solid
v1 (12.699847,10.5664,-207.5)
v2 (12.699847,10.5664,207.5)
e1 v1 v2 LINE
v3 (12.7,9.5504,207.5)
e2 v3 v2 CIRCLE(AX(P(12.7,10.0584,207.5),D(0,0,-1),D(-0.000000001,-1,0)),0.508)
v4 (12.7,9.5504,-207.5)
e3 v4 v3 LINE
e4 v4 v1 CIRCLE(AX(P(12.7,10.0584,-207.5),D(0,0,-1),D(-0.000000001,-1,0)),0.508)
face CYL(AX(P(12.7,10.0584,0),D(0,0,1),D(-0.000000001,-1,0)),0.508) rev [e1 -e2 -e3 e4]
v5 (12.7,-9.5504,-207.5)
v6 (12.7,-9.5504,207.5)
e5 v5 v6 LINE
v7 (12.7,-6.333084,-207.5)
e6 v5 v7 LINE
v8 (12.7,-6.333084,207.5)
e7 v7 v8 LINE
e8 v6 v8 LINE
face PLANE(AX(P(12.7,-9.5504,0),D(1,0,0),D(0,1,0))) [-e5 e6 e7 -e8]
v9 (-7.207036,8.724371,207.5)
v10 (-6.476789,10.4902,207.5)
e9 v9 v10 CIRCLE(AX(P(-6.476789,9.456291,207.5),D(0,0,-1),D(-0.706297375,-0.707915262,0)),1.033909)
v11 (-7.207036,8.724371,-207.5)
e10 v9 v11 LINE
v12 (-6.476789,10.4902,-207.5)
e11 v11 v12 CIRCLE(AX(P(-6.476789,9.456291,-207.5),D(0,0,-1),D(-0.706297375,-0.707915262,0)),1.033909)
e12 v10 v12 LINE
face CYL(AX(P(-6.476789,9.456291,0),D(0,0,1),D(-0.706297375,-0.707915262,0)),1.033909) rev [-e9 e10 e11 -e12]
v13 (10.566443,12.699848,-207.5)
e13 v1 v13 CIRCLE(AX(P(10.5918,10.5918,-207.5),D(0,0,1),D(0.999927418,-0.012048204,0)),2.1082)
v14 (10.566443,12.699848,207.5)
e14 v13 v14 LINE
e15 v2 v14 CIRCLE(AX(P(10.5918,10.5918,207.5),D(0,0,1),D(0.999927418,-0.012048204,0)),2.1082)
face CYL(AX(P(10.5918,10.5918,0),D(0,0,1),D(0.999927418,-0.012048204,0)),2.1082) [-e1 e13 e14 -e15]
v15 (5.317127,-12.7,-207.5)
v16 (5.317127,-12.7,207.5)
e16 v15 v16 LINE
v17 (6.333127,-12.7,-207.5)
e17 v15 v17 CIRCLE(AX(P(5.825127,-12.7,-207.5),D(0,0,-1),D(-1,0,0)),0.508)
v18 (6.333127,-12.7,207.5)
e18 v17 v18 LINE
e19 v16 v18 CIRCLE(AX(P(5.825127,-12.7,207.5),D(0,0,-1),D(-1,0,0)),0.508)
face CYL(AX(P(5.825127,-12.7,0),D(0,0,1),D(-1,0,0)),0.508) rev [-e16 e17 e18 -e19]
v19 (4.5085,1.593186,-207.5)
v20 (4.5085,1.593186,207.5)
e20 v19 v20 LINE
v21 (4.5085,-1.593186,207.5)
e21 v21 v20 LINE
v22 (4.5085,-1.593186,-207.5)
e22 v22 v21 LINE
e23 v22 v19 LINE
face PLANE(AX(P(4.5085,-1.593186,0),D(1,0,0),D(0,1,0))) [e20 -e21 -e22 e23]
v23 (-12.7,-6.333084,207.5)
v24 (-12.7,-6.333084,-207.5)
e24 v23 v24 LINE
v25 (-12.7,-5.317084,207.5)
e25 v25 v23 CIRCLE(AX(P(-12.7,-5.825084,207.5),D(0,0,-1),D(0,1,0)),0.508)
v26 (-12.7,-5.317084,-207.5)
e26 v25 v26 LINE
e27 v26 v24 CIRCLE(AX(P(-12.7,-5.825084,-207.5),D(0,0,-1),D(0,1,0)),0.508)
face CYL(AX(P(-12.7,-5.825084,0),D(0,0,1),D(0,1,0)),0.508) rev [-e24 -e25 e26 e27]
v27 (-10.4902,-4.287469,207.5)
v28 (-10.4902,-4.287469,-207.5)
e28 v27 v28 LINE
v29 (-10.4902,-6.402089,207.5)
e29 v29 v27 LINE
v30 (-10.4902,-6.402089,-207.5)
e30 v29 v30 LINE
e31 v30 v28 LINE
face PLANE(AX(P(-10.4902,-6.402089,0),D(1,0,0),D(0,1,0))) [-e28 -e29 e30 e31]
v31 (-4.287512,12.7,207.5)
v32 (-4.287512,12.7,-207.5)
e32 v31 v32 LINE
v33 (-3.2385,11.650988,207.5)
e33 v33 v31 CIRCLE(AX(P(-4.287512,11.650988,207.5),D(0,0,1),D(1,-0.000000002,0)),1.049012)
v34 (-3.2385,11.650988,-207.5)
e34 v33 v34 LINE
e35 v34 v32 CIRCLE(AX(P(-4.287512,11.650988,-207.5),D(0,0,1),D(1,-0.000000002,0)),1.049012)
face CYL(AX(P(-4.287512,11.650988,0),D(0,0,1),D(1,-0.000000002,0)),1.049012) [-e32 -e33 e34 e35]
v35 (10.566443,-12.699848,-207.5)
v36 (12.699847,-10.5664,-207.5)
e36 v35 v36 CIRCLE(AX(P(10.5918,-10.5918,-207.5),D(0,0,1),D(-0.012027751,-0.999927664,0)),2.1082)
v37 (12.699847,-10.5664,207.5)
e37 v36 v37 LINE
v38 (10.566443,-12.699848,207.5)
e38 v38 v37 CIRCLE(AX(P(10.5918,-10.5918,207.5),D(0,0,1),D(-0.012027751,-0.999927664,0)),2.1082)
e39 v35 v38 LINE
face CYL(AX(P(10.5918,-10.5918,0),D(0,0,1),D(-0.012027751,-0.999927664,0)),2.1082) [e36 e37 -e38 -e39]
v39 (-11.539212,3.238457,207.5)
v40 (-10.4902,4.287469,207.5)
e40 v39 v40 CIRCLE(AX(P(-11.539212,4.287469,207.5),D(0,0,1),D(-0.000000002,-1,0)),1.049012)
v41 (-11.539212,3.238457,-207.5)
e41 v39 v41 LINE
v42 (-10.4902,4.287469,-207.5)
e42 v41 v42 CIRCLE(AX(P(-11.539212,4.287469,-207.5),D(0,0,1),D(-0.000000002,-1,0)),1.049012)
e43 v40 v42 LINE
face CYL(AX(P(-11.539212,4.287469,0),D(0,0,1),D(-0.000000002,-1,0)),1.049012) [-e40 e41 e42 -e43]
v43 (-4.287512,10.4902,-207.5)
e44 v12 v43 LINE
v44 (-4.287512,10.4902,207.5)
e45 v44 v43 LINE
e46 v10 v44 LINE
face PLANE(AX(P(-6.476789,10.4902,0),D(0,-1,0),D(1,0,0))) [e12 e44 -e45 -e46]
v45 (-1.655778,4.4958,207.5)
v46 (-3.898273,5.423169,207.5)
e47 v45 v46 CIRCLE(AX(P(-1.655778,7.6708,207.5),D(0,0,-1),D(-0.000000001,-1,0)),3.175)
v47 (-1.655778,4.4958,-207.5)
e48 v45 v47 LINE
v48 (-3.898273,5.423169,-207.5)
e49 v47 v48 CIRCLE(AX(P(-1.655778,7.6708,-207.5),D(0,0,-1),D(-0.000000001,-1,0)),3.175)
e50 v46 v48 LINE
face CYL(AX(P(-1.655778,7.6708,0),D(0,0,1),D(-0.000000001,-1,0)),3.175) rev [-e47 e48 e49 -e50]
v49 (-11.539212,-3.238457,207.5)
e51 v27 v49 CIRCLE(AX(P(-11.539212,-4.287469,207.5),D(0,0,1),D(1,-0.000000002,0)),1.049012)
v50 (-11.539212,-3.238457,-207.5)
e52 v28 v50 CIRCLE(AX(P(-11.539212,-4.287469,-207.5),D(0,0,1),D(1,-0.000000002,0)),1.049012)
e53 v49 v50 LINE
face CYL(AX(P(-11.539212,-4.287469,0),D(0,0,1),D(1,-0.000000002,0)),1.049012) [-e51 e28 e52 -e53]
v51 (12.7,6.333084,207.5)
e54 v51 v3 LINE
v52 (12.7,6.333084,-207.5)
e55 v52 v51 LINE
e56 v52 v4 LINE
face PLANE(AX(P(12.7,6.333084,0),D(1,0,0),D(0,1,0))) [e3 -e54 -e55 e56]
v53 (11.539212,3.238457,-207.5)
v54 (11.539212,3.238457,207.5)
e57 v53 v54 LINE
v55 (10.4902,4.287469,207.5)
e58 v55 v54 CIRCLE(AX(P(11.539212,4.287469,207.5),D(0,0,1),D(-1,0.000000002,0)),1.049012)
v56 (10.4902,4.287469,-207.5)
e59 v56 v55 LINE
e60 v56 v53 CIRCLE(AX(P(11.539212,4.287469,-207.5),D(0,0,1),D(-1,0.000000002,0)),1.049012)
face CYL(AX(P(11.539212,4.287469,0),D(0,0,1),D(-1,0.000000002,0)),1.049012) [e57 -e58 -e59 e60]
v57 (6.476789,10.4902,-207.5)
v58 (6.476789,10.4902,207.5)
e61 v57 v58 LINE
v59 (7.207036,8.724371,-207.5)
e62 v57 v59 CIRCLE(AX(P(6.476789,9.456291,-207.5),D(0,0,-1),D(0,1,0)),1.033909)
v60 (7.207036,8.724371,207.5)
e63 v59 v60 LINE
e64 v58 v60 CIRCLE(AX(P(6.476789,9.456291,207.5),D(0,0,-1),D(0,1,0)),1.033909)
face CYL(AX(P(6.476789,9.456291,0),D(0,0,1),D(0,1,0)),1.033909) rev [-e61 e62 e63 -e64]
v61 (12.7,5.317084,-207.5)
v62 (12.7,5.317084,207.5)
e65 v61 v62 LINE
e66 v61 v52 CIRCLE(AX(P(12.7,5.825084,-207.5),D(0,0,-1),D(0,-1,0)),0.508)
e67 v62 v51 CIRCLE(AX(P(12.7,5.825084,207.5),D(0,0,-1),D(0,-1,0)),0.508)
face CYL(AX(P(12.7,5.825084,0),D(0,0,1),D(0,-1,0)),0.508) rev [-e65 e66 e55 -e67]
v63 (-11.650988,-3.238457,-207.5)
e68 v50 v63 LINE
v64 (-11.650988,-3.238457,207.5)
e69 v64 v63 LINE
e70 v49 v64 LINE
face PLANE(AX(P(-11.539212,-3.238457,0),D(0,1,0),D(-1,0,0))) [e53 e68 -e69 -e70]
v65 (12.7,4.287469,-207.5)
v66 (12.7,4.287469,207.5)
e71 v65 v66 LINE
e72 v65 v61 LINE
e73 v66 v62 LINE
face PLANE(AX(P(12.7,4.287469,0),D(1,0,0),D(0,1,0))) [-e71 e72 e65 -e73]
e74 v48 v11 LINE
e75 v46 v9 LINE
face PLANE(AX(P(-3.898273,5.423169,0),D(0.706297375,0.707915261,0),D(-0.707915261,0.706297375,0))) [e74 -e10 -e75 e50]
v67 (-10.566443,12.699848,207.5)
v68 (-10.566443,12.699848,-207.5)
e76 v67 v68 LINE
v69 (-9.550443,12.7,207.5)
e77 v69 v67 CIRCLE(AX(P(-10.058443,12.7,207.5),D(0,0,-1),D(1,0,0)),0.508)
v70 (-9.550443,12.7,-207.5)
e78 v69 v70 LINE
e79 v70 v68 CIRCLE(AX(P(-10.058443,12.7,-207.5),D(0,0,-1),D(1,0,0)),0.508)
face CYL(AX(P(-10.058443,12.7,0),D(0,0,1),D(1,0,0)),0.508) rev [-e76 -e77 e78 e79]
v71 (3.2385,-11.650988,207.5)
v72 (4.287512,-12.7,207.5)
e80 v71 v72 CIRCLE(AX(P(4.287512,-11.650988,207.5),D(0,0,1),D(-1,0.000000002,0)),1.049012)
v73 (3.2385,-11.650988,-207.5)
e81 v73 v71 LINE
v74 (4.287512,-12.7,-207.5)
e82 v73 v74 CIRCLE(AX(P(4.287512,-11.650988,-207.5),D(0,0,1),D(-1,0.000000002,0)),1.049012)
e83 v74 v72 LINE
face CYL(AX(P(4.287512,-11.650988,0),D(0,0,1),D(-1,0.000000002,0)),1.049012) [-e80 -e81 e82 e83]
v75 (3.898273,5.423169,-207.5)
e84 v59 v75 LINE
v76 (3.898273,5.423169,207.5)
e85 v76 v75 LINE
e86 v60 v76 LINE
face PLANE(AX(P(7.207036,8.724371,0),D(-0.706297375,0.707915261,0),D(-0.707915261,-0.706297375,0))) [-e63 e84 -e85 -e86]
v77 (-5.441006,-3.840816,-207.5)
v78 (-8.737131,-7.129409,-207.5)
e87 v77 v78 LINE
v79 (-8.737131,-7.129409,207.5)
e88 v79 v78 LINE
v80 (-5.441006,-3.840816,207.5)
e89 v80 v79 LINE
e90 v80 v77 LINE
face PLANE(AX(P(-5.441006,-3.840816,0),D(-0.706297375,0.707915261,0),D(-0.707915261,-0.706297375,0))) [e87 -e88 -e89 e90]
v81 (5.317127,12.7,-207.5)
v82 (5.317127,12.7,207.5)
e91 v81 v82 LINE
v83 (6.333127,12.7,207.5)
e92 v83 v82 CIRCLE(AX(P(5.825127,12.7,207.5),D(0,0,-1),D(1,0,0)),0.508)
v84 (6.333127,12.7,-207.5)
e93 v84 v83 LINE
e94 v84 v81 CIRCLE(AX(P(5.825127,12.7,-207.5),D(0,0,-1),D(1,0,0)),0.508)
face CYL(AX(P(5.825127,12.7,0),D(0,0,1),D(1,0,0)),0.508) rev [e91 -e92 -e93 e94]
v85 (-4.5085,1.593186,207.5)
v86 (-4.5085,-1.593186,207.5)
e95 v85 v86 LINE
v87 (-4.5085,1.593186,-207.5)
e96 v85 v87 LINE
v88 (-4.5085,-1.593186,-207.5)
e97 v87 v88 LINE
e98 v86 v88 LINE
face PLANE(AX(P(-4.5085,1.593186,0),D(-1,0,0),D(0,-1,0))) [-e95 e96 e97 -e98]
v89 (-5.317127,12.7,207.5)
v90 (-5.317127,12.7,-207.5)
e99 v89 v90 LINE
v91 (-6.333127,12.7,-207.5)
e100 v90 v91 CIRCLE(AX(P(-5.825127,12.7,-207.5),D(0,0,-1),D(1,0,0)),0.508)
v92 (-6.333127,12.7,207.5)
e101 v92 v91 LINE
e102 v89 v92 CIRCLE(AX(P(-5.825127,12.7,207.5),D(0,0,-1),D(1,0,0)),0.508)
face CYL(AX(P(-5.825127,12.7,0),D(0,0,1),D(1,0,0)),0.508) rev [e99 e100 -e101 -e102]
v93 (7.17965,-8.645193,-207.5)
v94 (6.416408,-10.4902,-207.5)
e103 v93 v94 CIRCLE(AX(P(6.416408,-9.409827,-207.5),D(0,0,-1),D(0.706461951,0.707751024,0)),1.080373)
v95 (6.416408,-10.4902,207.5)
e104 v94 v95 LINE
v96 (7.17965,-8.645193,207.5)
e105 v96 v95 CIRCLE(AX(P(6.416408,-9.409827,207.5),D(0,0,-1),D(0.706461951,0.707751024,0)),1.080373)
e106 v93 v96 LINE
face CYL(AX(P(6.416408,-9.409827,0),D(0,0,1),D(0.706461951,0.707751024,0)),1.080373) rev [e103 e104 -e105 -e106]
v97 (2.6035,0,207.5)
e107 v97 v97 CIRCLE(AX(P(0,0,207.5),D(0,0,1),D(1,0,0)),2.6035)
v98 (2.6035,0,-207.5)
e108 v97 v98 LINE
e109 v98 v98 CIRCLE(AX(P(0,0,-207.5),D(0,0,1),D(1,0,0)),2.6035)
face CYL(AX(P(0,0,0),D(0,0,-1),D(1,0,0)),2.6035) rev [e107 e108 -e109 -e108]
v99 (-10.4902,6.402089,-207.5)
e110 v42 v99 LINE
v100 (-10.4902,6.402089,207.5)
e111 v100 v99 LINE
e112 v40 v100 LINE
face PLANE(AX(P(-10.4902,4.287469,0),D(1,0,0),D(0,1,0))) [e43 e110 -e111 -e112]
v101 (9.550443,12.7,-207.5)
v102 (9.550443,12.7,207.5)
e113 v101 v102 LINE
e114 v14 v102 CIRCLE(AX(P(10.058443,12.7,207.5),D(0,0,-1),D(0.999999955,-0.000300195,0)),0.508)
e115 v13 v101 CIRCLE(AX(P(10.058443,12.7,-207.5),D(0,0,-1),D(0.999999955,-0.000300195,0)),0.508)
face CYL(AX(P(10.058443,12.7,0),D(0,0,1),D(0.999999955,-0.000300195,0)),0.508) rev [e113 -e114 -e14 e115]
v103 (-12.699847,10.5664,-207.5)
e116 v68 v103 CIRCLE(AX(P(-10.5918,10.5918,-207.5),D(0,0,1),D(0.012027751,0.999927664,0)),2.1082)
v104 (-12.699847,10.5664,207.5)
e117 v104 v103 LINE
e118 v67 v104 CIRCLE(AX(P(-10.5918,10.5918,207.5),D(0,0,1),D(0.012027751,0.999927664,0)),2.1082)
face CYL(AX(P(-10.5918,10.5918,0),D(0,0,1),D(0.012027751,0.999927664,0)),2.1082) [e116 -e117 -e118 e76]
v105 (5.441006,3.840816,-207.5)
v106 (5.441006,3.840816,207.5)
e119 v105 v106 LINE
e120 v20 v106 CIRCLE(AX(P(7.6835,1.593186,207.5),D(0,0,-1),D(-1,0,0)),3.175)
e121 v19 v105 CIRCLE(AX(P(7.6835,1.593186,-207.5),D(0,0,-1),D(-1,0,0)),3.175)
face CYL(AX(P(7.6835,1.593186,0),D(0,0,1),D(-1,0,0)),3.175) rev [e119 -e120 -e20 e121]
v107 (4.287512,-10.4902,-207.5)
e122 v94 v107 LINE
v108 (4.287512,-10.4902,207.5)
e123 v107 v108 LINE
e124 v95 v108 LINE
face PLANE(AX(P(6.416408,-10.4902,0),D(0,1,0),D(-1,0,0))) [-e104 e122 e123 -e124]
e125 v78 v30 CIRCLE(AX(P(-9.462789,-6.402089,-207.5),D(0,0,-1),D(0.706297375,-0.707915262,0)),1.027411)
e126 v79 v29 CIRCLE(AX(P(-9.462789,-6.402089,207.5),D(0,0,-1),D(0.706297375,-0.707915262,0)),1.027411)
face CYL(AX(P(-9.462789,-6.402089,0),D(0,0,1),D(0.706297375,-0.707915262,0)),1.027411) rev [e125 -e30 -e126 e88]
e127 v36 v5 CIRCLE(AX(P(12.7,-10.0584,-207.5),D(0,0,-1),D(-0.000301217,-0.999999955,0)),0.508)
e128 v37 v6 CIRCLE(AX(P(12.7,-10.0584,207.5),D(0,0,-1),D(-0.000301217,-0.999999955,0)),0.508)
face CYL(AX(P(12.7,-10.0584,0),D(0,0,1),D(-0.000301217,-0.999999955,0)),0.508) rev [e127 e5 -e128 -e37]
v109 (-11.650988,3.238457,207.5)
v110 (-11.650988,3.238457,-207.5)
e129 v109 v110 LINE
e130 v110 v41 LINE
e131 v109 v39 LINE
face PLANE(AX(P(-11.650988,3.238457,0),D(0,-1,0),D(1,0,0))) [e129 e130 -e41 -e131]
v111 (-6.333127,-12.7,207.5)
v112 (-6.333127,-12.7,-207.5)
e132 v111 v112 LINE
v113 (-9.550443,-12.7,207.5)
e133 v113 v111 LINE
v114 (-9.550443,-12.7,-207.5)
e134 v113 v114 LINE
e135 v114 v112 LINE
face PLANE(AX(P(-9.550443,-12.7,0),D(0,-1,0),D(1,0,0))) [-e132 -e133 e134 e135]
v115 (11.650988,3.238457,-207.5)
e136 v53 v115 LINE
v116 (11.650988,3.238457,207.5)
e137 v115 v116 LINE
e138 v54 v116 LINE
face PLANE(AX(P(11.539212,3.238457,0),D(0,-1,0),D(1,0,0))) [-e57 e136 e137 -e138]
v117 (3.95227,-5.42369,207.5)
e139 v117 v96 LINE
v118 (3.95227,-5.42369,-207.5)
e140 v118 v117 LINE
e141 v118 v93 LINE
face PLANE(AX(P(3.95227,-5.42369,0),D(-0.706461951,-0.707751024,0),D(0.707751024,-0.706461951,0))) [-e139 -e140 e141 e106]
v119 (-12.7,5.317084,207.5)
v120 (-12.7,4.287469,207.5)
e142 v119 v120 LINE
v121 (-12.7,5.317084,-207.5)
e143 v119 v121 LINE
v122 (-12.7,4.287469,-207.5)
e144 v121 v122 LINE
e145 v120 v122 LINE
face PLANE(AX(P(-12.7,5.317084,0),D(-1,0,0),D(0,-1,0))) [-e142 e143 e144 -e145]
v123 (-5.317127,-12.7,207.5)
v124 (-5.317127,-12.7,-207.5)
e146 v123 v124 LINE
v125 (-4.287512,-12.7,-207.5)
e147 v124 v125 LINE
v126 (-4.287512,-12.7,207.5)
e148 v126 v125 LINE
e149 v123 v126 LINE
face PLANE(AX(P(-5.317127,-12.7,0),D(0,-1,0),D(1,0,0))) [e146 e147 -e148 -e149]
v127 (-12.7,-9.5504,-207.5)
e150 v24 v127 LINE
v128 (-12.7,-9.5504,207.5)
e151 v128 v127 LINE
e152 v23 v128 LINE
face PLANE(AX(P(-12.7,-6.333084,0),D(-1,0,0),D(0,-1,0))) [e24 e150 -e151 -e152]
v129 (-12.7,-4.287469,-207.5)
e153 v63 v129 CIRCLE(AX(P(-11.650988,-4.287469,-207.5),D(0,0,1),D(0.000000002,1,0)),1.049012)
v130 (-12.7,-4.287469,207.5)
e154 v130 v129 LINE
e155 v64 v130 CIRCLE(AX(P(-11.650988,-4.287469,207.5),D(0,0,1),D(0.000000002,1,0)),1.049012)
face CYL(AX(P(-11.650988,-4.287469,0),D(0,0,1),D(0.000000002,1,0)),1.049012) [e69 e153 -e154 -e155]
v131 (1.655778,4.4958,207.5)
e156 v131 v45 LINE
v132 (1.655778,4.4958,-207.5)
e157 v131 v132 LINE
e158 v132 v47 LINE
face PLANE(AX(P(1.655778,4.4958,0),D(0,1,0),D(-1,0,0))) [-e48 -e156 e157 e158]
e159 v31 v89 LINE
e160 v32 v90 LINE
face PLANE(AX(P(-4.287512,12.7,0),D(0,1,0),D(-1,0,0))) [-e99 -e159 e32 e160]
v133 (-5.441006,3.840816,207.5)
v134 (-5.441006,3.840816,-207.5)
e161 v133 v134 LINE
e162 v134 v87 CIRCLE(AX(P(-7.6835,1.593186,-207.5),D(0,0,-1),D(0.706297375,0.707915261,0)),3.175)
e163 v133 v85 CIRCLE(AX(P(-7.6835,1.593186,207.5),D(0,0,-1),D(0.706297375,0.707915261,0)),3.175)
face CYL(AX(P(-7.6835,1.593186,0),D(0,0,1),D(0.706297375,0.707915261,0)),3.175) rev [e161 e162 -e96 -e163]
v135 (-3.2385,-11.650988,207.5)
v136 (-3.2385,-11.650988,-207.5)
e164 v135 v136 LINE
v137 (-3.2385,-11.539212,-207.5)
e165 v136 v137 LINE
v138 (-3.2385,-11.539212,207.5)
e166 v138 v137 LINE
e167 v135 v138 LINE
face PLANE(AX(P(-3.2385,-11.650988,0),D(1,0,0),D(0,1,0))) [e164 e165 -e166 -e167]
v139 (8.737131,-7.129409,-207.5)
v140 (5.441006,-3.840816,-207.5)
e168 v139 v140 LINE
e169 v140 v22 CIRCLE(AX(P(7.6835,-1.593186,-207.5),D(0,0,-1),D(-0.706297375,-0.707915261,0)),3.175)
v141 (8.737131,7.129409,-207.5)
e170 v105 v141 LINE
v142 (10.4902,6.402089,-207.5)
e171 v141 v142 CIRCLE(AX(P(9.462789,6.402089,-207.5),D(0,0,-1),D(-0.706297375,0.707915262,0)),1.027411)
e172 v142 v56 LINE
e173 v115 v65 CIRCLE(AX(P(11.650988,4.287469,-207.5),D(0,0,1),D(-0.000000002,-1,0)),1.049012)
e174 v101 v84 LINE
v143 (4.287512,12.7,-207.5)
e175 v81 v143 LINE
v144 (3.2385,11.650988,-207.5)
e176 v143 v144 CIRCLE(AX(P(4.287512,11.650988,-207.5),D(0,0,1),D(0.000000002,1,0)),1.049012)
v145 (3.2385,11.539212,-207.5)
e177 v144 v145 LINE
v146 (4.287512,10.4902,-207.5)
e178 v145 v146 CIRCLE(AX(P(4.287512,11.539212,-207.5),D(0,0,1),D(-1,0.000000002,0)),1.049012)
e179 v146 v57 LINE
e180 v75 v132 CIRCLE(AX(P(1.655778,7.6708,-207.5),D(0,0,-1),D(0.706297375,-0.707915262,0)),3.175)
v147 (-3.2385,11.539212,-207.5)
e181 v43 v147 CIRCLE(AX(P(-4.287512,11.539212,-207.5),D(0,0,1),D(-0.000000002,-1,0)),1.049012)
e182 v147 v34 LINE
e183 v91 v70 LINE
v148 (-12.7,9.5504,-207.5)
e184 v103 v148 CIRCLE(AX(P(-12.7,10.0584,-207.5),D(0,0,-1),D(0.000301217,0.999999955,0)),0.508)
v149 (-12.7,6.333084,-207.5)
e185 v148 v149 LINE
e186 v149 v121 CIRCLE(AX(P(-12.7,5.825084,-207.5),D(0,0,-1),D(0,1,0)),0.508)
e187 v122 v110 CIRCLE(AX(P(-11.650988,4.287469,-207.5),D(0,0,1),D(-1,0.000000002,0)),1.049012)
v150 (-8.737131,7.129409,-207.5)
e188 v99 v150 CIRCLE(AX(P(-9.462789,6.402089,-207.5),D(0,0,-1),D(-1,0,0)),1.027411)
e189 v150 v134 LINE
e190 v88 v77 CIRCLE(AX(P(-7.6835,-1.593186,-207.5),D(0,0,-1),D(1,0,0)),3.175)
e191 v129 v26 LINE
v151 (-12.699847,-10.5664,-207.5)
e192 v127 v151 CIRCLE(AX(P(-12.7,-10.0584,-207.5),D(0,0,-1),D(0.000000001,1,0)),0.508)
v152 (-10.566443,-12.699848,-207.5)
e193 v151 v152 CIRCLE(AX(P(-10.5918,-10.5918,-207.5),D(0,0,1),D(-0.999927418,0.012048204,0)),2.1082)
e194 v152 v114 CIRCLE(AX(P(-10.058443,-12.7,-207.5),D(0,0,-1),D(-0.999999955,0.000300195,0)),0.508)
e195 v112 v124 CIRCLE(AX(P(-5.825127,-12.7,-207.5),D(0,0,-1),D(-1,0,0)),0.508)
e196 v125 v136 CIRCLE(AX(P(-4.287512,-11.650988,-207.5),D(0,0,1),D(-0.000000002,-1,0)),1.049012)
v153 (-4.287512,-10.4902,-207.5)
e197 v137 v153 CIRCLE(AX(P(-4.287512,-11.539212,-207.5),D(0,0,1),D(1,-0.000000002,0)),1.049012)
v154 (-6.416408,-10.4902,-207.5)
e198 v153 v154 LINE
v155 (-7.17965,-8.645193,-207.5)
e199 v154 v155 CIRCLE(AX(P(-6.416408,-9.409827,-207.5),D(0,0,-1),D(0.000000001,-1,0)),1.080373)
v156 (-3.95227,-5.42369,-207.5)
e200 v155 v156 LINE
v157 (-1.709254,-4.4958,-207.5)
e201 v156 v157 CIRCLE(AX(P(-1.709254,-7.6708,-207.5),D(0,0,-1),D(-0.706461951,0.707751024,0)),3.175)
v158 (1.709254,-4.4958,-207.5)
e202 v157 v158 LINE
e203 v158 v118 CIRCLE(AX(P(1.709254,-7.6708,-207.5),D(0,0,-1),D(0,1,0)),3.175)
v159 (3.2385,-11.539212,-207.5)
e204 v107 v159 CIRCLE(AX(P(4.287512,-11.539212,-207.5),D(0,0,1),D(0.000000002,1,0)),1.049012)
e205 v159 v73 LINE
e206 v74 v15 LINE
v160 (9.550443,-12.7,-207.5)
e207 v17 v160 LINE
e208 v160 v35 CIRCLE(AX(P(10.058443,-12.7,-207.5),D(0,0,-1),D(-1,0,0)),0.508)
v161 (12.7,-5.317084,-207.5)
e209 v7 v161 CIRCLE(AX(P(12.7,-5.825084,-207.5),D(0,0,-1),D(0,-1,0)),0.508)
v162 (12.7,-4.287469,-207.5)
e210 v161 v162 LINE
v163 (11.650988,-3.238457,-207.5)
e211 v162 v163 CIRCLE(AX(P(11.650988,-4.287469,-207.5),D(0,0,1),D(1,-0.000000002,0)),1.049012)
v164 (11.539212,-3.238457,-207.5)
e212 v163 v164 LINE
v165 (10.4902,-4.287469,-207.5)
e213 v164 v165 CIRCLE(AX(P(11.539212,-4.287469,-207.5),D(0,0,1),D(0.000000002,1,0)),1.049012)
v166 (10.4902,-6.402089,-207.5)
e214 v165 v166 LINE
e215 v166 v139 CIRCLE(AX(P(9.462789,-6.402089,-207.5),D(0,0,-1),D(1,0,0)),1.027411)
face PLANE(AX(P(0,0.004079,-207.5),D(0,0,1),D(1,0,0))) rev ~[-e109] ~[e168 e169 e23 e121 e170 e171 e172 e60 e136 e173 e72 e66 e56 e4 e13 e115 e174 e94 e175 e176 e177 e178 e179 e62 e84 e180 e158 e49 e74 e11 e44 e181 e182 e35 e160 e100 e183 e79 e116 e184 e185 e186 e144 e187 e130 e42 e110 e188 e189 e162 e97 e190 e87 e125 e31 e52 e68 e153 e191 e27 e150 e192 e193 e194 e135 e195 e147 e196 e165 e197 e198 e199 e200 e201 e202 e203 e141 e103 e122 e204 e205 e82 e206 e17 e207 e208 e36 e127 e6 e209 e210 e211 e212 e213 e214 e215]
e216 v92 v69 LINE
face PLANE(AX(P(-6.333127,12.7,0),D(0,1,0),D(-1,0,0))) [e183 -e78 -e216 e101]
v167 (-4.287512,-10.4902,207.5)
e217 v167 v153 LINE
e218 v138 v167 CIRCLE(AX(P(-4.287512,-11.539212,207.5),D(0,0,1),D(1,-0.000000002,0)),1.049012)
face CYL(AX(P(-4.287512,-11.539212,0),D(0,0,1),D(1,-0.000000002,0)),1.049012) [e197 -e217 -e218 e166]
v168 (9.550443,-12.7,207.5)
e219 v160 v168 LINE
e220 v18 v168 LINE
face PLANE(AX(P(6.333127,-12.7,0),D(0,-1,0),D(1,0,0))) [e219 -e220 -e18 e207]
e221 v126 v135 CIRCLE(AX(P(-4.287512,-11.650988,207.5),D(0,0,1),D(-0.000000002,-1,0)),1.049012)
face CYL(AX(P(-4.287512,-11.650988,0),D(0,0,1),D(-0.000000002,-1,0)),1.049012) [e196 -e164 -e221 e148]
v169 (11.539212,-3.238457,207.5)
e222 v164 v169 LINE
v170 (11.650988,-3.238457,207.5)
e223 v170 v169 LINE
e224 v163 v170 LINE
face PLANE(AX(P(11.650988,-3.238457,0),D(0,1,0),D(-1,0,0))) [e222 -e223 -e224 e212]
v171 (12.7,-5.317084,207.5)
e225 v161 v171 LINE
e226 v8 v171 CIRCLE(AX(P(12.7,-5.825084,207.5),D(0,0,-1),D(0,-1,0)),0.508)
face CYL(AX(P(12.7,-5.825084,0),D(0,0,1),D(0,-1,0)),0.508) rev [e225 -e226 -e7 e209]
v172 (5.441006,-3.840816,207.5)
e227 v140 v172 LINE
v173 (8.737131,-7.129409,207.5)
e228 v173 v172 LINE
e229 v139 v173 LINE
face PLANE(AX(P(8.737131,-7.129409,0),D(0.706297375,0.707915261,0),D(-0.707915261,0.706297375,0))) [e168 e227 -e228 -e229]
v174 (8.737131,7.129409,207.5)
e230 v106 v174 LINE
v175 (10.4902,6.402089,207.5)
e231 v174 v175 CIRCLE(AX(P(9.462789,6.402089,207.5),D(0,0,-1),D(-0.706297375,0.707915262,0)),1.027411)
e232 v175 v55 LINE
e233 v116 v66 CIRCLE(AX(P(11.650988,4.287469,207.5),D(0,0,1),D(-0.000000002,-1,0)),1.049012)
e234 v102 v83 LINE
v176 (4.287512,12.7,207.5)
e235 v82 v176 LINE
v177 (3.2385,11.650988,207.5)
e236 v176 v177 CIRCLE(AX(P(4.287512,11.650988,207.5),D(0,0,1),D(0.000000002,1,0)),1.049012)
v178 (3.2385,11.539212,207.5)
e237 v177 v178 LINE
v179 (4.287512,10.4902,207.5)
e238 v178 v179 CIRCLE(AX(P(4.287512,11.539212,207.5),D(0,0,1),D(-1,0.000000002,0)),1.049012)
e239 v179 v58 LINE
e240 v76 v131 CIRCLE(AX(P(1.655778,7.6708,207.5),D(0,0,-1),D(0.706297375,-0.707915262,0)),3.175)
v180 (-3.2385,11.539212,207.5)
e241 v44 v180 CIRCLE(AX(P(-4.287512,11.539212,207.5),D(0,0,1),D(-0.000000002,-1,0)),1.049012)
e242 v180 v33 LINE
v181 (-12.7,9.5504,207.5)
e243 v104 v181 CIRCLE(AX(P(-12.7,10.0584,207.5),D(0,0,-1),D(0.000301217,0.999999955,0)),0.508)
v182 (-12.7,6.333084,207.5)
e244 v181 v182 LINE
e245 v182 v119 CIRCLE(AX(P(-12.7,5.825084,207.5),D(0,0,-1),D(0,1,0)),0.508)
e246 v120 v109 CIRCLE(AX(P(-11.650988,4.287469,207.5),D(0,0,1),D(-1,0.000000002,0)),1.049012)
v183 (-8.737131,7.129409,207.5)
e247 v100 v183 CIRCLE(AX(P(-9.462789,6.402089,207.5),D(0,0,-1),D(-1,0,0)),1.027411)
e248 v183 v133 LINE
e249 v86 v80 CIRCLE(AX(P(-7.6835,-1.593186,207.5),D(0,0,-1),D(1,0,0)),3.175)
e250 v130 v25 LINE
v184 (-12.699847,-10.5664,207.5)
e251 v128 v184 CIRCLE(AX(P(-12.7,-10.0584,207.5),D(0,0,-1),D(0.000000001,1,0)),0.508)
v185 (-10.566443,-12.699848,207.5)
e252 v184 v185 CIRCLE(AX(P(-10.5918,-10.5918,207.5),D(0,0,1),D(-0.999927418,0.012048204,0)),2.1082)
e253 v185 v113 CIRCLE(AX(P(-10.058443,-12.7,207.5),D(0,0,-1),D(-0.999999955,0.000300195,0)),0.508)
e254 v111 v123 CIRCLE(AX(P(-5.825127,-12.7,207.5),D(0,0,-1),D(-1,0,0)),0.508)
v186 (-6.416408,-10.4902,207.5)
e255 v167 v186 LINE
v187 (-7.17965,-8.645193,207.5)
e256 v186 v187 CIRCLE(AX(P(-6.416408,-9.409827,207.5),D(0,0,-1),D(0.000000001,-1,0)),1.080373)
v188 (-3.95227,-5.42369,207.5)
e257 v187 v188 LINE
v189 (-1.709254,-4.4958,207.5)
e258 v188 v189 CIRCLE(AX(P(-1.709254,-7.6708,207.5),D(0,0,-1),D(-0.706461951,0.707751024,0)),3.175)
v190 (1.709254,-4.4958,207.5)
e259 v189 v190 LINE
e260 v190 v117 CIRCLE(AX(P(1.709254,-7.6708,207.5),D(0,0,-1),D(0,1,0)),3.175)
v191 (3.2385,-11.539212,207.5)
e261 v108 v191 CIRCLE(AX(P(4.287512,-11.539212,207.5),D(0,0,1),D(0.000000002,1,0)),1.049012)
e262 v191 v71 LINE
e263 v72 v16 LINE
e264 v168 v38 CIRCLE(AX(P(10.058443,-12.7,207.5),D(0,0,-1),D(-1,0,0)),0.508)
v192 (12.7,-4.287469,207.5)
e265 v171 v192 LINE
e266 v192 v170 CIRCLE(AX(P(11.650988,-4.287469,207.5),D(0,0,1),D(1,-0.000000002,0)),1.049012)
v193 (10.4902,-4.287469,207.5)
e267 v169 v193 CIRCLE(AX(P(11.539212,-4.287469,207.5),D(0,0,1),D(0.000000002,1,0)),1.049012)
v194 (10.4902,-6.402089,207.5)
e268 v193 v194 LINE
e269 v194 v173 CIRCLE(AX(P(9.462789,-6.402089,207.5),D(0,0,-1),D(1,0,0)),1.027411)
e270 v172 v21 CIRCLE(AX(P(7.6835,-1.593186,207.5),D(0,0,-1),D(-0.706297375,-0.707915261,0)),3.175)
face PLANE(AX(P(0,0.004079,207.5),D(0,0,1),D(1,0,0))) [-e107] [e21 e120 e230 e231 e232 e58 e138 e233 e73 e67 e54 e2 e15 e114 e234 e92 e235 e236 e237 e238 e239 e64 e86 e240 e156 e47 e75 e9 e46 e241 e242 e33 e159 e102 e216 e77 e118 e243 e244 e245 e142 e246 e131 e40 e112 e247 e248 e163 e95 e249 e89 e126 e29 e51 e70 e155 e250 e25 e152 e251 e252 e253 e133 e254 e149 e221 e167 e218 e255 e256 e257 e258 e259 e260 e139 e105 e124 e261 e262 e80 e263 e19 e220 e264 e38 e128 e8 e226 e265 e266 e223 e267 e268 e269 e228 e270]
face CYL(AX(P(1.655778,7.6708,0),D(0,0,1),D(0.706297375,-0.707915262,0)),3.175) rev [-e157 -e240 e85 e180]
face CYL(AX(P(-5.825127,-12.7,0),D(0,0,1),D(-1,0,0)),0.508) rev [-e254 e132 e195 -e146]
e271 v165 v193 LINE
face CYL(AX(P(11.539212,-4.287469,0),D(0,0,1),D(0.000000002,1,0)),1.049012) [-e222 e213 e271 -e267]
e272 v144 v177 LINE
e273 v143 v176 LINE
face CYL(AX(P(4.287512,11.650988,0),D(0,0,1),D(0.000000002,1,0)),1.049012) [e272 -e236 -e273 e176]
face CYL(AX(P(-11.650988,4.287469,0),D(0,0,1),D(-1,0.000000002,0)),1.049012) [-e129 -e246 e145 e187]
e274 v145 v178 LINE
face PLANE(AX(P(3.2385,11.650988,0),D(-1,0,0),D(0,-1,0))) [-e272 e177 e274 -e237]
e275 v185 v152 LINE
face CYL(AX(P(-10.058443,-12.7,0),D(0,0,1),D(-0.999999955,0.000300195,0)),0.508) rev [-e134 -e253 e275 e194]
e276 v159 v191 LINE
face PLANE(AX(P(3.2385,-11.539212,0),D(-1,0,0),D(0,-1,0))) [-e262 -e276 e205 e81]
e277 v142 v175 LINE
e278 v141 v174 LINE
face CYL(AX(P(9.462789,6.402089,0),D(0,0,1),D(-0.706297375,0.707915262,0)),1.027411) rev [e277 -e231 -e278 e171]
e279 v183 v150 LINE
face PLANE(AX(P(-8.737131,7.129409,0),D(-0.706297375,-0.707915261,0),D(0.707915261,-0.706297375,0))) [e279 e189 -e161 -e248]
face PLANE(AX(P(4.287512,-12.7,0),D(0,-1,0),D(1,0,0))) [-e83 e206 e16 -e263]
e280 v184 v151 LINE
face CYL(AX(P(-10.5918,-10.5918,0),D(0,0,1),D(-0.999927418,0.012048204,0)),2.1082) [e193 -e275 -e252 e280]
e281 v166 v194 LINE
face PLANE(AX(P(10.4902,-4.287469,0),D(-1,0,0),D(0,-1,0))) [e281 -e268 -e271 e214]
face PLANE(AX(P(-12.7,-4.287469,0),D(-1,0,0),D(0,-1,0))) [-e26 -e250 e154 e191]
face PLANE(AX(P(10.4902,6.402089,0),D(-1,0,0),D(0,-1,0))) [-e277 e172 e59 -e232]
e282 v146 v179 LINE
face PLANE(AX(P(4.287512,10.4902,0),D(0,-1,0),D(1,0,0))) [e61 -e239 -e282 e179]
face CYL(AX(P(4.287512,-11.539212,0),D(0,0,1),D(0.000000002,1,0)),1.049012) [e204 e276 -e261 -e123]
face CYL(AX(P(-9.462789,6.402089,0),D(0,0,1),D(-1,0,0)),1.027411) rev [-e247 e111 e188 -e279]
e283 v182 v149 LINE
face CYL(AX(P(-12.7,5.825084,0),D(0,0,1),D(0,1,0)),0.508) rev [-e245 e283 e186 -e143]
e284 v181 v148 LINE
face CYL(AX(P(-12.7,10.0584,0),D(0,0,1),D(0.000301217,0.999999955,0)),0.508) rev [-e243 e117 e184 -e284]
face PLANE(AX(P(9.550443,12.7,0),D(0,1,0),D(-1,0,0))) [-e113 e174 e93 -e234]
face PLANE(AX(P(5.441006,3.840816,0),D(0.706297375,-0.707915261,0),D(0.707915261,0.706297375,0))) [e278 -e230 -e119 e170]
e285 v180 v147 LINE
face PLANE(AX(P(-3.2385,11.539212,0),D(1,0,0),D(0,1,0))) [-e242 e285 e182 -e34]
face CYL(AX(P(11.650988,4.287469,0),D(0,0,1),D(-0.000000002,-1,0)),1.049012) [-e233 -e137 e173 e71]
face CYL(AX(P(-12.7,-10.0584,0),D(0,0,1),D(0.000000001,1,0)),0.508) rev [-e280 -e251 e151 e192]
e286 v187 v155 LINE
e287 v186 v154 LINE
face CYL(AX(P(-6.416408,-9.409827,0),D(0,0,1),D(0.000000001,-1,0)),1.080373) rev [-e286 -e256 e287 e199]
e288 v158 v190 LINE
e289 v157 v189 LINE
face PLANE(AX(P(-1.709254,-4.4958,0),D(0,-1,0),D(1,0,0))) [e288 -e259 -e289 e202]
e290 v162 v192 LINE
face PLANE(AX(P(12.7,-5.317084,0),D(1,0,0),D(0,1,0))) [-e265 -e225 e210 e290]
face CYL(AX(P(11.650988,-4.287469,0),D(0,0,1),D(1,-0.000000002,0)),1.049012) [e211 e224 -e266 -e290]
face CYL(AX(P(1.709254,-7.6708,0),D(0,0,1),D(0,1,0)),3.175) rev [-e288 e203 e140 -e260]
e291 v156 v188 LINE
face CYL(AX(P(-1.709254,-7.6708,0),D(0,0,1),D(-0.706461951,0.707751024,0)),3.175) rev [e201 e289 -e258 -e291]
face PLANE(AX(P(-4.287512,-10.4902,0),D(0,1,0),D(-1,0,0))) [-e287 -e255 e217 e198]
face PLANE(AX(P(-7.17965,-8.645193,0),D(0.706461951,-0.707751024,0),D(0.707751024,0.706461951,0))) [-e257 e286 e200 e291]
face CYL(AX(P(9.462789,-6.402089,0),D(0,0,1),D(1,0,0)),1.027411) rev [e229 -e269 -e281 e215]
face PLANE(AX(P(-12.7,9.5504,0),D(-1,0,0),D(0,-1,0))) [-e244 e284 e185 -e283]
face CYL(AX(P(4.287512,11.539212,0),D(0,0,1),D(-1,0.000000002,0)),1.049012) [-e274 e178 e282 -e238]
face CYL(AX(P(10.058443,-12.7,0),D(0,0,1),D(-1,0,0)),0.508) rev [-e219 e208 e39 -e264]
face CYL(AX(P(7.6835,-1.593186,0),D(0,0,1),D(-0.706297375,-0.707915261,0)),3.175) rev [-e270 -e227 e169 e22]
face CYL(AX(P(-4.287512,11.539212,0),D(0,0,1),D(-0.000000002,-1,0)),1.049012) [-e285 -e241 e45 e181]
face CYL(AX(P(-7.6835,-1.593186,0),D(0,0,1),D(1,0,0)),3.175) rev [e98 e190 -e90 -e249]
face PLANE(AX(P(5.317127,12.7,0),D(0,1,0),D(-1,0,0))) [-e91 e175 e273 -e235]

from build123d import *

# Parameters (mm, degrees)
SKETCH1_R           = 2.6035
BOSS_EXTRUDE1_DEPTH = 207.5


with BuildPart() as part:
    # Sketch1 → Boss-Extrude1 (new body, symmetric)
    with BuildSketch(Plane.XY):
        with BuildLine():
            Line((-7.179650497, -8.645192506), (-3.952270251, -5.423690499))
            ThreePointArc((-3.952270251, -5.423690499), (-2.922936451, -4.736929036), (-1.709253557, -4.4958))
            Line((-1.709253557, -4.4958), (1.709253557, -4.4958))
            ThreePointArc((1.709253557, -4.4958), (2.922936451, -4.736929036), (3.952270251, -5.423690499))
            Line((3.952270251, -5.423690499), (7.179650497, -8.645192506))
            ThreePointArc((7.179650497, -8.645192506), (7.41473083, -9.822813117), (6.416408329, -10.4902))
            Line((6.416408329, -10.4902), (4.287512407, -10.4902))
            ThreePointArc((4.287512407, -10.4902), (3.54574862, -10.79744862), (3.2385, -11.539212407))
            Line((3.2385, -11.539212407), (3.2385, -11.650987593))
            ThreePointArc((3.2385, -11.650987593), (3.54574862, -12.39275138), (4.287512407, -12.7))
            Line((4.287512407, -12.7), (5.317126718, -12.7))
            ThreePointArc((5.317126718, -12.7), (5.825126718, -12.192), (6.333126718, -12.7))
            Line((6.333126718, -12.7), (9.550443118, -12.7))
            ThreePointArc((9.550443118, -12.7), (10.058366869, -12.192000006), (10.566443095, -12.699847501))
            ThreePointArc((10.566443095, -12.699847501), (12.082537762, -12.08250727), (12.699846982, -10.566399977))
            ThreePointArc((12.699846982, -10.566399977), (12.192000006, -10.058323491), (12.7, -9.5504))
            Line((12.7, -9.5504), (12.7, -6.3330836))
            ThreePointArc((12.7, -6.3330836), (12.192, -5.8250836), (12.7, -5.3170836))
            Line((12.7, -5.3170836), (12.7, -4.287469289))
            ThreePointArc((12.7, -4.287469289), (12.39275138, -3.545705502), (11.650987593, -3.238456882))
            Line((11.650987593, -3.238456882), (11.539212407, -3.238456882))
            ThreePointArc((11.539212407, -3.238456882), (10.79744862, -3.545705502), (10.4902, -4.287469289))
            Line((10.4902, -4.287469289), (10.4902, -6.402089023))
            ThreePointArc((10.4902, -6.402089023), (9.856505071, -7.351067942), (8.737131347, -7.129408934))
            Line((8.737131347, -7.129408934), (5.441005833, -3.840816462))
            ThreePointArc((5.441005833, -3.840816462), (4.750877967, -2.809883091), (4.5085, -1.593185507))
            Line((4.5085, -1.593185507), (4.5085, 1.593185507))
            ThreePointArc((4.5085, 1.593185507), (4.750877967, 2.809883091), (5.441005833, 3.840816462))
            Line((5.441005833, 3.840816462), (8.737131347, 7.129408934))
            ThreePointArc((8.737131347, 7.129408934), (9.856505071, 7.351067942), (10.4902, 6.402089023))
            Line((10.4902, 6.402089023), (10.4902, 4.287469289))
            ThreePointArc((10.4902, 4.287469289), (10.79744862, 3.545705502), (11.539212407, 3.238456882))
            Line((11.539212407, 3.238456882), (11.650987593, 3.238456882))
            ThreePointArc((11.650987593, 3.238456882), (12.39275138, 3.545705502), (12.7, 4.287469289))
            Line((12.7, 4.287469289), (12.7, 5.3170836))
            ThreePointArc((12.7, 5.3170836), (12.192, 5.8250836), (12.7, 6.3330836))
            Line((12.7, 6.3330836), (12.7, 9.5504))
            ThreePointArc((12.7, 9.5504), (12.192000006, 10.058323491), (12.699846982, 10.566399977))
            ThreePointArc((12.699846982, 10.566399977), (12.082537762, 12.08250727), (10.566443095, 12.699847501))
            ThreePointArc((10.566443095, 12.699847501), (10.058366869, 12.192000006), (9.550443118, 12.7))
            Line((9.550443118, 12.7), (6.333126718, 12.7))
            ThreePointArc((6.333126718, 12.7), (5.825126718, 12.192), (5.317126718, 12.7))
            Line((5.317126718, 12.7), (4.287512407, 12.7))
            ThreePointArc((4.287512407, 12.7), (3.54574862, 12.39275138), (3.2385, 11.650987593))
            Line((3.2385, 11.650987593), (3.2385, 11.539212407))
            ThreePointArc((3.2385, 11.539212407), (3.54574862, 10.79744862), (4.287512407, 10.4902))
            Line((4.287512407, 10.4902), (6.476788598, 10.4902))
            ThreePointArc((6.476788598, 10.4902), (7.432222385, 9.85140422), (7.207036008, 8.724370562))
            Line((7.207036008, 8.724370562), (3.898272566, 5.423169045))
            ThreePointArc((3.898272566, 5.423169045), (2.869120213, 4.736787962), (1.655778399, 4.4958))
            Line((1.655778399, 4.4958), (-1.655778399, 4.4958))
            ThreePointArc((-1.655778399, 4.4958), (-2.869120213, 4.736787962), (-3.898272566, 5.423169045))
            Line((-3.898272566, 5.423169045), (-7.207036008, 8.724370562))
            ThreePointArc((-7.207036008, 8.724370562), (-7.432222385, 9.85140422), (-6.476788598, 10.4902))
            Line((-6.476788598, 10.4902), (-4.287512407, 10.4902))
            ThreePointArc((-4.287512407, 10.4902), (-3.54574862, 10.79744862), (-3.2385, 11.539212407))
            Line((-3.2385, 11.539212407), (-3.2385, 11.650987593))
            ThreePointArc((-3.2385, 11.650987593), (-3.54574862, 12.39275138), (-4.287512407, 12.7))
            Line((-4.287512407, 12.7), (-5.317126718, 12.7))
            ThreePointArc((-5.317126718, 12.7), (-5.825126718, 12.192), (-6.333126718, 12.7))
            Line((-6.333126718, 12.7), (-9.550443118, 12.7))
            ThreePointArc((-9.550443118, 12.7), (-10.058366869, 12.192000006), (-10.566443095, 12.699847501))
            ThreePointArc((-10.566443095, 12.699847501), (-12.082537762, 12.08250727), (-12.699846982, 10.566399977))
            ThreePointArc((-12.699846982, 10.566399977), (-12.192000006, 10.058323491), (-12.7, 9.5504))
            Line((-12.7, 9.5504), (-12.7, 6.3330836))
            ThreePointArc((-12.7, 6.3330836), (-12.192, 5.8250836), (-12.7, 5.3170836))
            Line((-12.7, 5.3170836), (-12.7, 4.287469289))
            ThreePointArc((-12.7, 4.287469289), (-12.39275138, 3.545705502), (-11.650987593, 3.238456882))
            Line((-11.650987593, 3.238456882), (-11.539212407, 3.238456882))
            ThreePointArc((-11.539212407, 3.238456882), (-10.79744862, 3.545705502), (-10.4902, 4.287469289))
            Line((-10.4902, 4.287469289), (-10.4902, 6.402089023))
            ThreePointArc((-10.4902, 6.402089023), (-9.856505071, 7.351067942), (-8.737131347, 7.129408934))
            Line((-8.737131347, 7.129408934), (-5.441005833, 3.840816462))
            ThreePointArc((-5.441005833, 3.840816462), (-4.750877967, 2.809883091), (-4.5085, 1.593185507))
            Line((-4.5085, 1.593185507), (-4.5085, -1.593185507))
            ThreePointArc((-4.5085, -1.593185507), (-4.750877967, -2.809883091), (-5.441005833, -3.840816462))
            Line((-5.441005833, -3.840816462), (-8.737131347, -7.129408934))
            ThreePointArc((-8.737131347, -7.129408934), (-9.856505071, -7.351067942), (-10.4902, -6.402089023))
            Line((-10.4902, -6.402089023), (-10.4902, -4.287469289))
            ThreePointArc((-10.4902, -4.287469289), (-10.79744862, -3.545705502), (-11.539212407, -3.238456882))
            Line((-11.539212407, -3.238456882), (-11.650987593, -3.238456882))
            ThreePointArc((-11.650987593, -3.238456882), (-12.39275138, -3.545705502), (-12.7, -4.287469289))
            Line((-12.7, -4.287469289), (-12.7, -5.3170836))
            ThreePointArc((-12.7, -5.3170836), (-12.192, -5.8250836), (-12.7, -6.3330836))
            Line((-12.7, -6.3330836), (-12.7, -9.5504))
            ThreePointArc((-12.7, -9.5504), (-12.192000006, -10.058323491), (-12.699846982, -10.566399977))
            ThreePointArc((-12.699846982, -10.566399977), (-12.082537762, -12.08250727), (-10.566443095, -12.699847501))
            ThreePointArc((-10.566443095, -12.699847501), (-10.058366869, -12.192000006), (-9.550443118, -12.7))
            Line((-9.550443118, -12.7), (-6.333126718, -12.7))
            ThreePointArc((-6.333126718, -12.7), (-5.825126718, -12.192), (-5.317126718, -12.7))
            Line((-5.317126718, -12.7), (-4.287512407, -12.7))
            ThreePointArc((-4.287512407, -12.7), (-3.54574862, -12.39275138), (-3.2385, -11.650987593))
            Line((-3.2385, -11.650987593), (-3.2385, -11.539212407))
            ThreePointArc((-3.2385, -11.539212407), (-3.54574862, -10.79744862), (-4.287512407, -10.4902))
            Line((-4.287512407, -10.4902), (-6.416408329, -10.4902))
            ThreePointArc((-6.416408329, -10.4902), (-7.41473083, -9.822813117), (-7.179650497, -8.645192506))
        make_face()
        Circle(SKETCH1_R, mode=Mode.SUBTRACT)
    extrude(amount=BOSS_EXTRUDE1_DEPTH, both=True)


solid = part.part
